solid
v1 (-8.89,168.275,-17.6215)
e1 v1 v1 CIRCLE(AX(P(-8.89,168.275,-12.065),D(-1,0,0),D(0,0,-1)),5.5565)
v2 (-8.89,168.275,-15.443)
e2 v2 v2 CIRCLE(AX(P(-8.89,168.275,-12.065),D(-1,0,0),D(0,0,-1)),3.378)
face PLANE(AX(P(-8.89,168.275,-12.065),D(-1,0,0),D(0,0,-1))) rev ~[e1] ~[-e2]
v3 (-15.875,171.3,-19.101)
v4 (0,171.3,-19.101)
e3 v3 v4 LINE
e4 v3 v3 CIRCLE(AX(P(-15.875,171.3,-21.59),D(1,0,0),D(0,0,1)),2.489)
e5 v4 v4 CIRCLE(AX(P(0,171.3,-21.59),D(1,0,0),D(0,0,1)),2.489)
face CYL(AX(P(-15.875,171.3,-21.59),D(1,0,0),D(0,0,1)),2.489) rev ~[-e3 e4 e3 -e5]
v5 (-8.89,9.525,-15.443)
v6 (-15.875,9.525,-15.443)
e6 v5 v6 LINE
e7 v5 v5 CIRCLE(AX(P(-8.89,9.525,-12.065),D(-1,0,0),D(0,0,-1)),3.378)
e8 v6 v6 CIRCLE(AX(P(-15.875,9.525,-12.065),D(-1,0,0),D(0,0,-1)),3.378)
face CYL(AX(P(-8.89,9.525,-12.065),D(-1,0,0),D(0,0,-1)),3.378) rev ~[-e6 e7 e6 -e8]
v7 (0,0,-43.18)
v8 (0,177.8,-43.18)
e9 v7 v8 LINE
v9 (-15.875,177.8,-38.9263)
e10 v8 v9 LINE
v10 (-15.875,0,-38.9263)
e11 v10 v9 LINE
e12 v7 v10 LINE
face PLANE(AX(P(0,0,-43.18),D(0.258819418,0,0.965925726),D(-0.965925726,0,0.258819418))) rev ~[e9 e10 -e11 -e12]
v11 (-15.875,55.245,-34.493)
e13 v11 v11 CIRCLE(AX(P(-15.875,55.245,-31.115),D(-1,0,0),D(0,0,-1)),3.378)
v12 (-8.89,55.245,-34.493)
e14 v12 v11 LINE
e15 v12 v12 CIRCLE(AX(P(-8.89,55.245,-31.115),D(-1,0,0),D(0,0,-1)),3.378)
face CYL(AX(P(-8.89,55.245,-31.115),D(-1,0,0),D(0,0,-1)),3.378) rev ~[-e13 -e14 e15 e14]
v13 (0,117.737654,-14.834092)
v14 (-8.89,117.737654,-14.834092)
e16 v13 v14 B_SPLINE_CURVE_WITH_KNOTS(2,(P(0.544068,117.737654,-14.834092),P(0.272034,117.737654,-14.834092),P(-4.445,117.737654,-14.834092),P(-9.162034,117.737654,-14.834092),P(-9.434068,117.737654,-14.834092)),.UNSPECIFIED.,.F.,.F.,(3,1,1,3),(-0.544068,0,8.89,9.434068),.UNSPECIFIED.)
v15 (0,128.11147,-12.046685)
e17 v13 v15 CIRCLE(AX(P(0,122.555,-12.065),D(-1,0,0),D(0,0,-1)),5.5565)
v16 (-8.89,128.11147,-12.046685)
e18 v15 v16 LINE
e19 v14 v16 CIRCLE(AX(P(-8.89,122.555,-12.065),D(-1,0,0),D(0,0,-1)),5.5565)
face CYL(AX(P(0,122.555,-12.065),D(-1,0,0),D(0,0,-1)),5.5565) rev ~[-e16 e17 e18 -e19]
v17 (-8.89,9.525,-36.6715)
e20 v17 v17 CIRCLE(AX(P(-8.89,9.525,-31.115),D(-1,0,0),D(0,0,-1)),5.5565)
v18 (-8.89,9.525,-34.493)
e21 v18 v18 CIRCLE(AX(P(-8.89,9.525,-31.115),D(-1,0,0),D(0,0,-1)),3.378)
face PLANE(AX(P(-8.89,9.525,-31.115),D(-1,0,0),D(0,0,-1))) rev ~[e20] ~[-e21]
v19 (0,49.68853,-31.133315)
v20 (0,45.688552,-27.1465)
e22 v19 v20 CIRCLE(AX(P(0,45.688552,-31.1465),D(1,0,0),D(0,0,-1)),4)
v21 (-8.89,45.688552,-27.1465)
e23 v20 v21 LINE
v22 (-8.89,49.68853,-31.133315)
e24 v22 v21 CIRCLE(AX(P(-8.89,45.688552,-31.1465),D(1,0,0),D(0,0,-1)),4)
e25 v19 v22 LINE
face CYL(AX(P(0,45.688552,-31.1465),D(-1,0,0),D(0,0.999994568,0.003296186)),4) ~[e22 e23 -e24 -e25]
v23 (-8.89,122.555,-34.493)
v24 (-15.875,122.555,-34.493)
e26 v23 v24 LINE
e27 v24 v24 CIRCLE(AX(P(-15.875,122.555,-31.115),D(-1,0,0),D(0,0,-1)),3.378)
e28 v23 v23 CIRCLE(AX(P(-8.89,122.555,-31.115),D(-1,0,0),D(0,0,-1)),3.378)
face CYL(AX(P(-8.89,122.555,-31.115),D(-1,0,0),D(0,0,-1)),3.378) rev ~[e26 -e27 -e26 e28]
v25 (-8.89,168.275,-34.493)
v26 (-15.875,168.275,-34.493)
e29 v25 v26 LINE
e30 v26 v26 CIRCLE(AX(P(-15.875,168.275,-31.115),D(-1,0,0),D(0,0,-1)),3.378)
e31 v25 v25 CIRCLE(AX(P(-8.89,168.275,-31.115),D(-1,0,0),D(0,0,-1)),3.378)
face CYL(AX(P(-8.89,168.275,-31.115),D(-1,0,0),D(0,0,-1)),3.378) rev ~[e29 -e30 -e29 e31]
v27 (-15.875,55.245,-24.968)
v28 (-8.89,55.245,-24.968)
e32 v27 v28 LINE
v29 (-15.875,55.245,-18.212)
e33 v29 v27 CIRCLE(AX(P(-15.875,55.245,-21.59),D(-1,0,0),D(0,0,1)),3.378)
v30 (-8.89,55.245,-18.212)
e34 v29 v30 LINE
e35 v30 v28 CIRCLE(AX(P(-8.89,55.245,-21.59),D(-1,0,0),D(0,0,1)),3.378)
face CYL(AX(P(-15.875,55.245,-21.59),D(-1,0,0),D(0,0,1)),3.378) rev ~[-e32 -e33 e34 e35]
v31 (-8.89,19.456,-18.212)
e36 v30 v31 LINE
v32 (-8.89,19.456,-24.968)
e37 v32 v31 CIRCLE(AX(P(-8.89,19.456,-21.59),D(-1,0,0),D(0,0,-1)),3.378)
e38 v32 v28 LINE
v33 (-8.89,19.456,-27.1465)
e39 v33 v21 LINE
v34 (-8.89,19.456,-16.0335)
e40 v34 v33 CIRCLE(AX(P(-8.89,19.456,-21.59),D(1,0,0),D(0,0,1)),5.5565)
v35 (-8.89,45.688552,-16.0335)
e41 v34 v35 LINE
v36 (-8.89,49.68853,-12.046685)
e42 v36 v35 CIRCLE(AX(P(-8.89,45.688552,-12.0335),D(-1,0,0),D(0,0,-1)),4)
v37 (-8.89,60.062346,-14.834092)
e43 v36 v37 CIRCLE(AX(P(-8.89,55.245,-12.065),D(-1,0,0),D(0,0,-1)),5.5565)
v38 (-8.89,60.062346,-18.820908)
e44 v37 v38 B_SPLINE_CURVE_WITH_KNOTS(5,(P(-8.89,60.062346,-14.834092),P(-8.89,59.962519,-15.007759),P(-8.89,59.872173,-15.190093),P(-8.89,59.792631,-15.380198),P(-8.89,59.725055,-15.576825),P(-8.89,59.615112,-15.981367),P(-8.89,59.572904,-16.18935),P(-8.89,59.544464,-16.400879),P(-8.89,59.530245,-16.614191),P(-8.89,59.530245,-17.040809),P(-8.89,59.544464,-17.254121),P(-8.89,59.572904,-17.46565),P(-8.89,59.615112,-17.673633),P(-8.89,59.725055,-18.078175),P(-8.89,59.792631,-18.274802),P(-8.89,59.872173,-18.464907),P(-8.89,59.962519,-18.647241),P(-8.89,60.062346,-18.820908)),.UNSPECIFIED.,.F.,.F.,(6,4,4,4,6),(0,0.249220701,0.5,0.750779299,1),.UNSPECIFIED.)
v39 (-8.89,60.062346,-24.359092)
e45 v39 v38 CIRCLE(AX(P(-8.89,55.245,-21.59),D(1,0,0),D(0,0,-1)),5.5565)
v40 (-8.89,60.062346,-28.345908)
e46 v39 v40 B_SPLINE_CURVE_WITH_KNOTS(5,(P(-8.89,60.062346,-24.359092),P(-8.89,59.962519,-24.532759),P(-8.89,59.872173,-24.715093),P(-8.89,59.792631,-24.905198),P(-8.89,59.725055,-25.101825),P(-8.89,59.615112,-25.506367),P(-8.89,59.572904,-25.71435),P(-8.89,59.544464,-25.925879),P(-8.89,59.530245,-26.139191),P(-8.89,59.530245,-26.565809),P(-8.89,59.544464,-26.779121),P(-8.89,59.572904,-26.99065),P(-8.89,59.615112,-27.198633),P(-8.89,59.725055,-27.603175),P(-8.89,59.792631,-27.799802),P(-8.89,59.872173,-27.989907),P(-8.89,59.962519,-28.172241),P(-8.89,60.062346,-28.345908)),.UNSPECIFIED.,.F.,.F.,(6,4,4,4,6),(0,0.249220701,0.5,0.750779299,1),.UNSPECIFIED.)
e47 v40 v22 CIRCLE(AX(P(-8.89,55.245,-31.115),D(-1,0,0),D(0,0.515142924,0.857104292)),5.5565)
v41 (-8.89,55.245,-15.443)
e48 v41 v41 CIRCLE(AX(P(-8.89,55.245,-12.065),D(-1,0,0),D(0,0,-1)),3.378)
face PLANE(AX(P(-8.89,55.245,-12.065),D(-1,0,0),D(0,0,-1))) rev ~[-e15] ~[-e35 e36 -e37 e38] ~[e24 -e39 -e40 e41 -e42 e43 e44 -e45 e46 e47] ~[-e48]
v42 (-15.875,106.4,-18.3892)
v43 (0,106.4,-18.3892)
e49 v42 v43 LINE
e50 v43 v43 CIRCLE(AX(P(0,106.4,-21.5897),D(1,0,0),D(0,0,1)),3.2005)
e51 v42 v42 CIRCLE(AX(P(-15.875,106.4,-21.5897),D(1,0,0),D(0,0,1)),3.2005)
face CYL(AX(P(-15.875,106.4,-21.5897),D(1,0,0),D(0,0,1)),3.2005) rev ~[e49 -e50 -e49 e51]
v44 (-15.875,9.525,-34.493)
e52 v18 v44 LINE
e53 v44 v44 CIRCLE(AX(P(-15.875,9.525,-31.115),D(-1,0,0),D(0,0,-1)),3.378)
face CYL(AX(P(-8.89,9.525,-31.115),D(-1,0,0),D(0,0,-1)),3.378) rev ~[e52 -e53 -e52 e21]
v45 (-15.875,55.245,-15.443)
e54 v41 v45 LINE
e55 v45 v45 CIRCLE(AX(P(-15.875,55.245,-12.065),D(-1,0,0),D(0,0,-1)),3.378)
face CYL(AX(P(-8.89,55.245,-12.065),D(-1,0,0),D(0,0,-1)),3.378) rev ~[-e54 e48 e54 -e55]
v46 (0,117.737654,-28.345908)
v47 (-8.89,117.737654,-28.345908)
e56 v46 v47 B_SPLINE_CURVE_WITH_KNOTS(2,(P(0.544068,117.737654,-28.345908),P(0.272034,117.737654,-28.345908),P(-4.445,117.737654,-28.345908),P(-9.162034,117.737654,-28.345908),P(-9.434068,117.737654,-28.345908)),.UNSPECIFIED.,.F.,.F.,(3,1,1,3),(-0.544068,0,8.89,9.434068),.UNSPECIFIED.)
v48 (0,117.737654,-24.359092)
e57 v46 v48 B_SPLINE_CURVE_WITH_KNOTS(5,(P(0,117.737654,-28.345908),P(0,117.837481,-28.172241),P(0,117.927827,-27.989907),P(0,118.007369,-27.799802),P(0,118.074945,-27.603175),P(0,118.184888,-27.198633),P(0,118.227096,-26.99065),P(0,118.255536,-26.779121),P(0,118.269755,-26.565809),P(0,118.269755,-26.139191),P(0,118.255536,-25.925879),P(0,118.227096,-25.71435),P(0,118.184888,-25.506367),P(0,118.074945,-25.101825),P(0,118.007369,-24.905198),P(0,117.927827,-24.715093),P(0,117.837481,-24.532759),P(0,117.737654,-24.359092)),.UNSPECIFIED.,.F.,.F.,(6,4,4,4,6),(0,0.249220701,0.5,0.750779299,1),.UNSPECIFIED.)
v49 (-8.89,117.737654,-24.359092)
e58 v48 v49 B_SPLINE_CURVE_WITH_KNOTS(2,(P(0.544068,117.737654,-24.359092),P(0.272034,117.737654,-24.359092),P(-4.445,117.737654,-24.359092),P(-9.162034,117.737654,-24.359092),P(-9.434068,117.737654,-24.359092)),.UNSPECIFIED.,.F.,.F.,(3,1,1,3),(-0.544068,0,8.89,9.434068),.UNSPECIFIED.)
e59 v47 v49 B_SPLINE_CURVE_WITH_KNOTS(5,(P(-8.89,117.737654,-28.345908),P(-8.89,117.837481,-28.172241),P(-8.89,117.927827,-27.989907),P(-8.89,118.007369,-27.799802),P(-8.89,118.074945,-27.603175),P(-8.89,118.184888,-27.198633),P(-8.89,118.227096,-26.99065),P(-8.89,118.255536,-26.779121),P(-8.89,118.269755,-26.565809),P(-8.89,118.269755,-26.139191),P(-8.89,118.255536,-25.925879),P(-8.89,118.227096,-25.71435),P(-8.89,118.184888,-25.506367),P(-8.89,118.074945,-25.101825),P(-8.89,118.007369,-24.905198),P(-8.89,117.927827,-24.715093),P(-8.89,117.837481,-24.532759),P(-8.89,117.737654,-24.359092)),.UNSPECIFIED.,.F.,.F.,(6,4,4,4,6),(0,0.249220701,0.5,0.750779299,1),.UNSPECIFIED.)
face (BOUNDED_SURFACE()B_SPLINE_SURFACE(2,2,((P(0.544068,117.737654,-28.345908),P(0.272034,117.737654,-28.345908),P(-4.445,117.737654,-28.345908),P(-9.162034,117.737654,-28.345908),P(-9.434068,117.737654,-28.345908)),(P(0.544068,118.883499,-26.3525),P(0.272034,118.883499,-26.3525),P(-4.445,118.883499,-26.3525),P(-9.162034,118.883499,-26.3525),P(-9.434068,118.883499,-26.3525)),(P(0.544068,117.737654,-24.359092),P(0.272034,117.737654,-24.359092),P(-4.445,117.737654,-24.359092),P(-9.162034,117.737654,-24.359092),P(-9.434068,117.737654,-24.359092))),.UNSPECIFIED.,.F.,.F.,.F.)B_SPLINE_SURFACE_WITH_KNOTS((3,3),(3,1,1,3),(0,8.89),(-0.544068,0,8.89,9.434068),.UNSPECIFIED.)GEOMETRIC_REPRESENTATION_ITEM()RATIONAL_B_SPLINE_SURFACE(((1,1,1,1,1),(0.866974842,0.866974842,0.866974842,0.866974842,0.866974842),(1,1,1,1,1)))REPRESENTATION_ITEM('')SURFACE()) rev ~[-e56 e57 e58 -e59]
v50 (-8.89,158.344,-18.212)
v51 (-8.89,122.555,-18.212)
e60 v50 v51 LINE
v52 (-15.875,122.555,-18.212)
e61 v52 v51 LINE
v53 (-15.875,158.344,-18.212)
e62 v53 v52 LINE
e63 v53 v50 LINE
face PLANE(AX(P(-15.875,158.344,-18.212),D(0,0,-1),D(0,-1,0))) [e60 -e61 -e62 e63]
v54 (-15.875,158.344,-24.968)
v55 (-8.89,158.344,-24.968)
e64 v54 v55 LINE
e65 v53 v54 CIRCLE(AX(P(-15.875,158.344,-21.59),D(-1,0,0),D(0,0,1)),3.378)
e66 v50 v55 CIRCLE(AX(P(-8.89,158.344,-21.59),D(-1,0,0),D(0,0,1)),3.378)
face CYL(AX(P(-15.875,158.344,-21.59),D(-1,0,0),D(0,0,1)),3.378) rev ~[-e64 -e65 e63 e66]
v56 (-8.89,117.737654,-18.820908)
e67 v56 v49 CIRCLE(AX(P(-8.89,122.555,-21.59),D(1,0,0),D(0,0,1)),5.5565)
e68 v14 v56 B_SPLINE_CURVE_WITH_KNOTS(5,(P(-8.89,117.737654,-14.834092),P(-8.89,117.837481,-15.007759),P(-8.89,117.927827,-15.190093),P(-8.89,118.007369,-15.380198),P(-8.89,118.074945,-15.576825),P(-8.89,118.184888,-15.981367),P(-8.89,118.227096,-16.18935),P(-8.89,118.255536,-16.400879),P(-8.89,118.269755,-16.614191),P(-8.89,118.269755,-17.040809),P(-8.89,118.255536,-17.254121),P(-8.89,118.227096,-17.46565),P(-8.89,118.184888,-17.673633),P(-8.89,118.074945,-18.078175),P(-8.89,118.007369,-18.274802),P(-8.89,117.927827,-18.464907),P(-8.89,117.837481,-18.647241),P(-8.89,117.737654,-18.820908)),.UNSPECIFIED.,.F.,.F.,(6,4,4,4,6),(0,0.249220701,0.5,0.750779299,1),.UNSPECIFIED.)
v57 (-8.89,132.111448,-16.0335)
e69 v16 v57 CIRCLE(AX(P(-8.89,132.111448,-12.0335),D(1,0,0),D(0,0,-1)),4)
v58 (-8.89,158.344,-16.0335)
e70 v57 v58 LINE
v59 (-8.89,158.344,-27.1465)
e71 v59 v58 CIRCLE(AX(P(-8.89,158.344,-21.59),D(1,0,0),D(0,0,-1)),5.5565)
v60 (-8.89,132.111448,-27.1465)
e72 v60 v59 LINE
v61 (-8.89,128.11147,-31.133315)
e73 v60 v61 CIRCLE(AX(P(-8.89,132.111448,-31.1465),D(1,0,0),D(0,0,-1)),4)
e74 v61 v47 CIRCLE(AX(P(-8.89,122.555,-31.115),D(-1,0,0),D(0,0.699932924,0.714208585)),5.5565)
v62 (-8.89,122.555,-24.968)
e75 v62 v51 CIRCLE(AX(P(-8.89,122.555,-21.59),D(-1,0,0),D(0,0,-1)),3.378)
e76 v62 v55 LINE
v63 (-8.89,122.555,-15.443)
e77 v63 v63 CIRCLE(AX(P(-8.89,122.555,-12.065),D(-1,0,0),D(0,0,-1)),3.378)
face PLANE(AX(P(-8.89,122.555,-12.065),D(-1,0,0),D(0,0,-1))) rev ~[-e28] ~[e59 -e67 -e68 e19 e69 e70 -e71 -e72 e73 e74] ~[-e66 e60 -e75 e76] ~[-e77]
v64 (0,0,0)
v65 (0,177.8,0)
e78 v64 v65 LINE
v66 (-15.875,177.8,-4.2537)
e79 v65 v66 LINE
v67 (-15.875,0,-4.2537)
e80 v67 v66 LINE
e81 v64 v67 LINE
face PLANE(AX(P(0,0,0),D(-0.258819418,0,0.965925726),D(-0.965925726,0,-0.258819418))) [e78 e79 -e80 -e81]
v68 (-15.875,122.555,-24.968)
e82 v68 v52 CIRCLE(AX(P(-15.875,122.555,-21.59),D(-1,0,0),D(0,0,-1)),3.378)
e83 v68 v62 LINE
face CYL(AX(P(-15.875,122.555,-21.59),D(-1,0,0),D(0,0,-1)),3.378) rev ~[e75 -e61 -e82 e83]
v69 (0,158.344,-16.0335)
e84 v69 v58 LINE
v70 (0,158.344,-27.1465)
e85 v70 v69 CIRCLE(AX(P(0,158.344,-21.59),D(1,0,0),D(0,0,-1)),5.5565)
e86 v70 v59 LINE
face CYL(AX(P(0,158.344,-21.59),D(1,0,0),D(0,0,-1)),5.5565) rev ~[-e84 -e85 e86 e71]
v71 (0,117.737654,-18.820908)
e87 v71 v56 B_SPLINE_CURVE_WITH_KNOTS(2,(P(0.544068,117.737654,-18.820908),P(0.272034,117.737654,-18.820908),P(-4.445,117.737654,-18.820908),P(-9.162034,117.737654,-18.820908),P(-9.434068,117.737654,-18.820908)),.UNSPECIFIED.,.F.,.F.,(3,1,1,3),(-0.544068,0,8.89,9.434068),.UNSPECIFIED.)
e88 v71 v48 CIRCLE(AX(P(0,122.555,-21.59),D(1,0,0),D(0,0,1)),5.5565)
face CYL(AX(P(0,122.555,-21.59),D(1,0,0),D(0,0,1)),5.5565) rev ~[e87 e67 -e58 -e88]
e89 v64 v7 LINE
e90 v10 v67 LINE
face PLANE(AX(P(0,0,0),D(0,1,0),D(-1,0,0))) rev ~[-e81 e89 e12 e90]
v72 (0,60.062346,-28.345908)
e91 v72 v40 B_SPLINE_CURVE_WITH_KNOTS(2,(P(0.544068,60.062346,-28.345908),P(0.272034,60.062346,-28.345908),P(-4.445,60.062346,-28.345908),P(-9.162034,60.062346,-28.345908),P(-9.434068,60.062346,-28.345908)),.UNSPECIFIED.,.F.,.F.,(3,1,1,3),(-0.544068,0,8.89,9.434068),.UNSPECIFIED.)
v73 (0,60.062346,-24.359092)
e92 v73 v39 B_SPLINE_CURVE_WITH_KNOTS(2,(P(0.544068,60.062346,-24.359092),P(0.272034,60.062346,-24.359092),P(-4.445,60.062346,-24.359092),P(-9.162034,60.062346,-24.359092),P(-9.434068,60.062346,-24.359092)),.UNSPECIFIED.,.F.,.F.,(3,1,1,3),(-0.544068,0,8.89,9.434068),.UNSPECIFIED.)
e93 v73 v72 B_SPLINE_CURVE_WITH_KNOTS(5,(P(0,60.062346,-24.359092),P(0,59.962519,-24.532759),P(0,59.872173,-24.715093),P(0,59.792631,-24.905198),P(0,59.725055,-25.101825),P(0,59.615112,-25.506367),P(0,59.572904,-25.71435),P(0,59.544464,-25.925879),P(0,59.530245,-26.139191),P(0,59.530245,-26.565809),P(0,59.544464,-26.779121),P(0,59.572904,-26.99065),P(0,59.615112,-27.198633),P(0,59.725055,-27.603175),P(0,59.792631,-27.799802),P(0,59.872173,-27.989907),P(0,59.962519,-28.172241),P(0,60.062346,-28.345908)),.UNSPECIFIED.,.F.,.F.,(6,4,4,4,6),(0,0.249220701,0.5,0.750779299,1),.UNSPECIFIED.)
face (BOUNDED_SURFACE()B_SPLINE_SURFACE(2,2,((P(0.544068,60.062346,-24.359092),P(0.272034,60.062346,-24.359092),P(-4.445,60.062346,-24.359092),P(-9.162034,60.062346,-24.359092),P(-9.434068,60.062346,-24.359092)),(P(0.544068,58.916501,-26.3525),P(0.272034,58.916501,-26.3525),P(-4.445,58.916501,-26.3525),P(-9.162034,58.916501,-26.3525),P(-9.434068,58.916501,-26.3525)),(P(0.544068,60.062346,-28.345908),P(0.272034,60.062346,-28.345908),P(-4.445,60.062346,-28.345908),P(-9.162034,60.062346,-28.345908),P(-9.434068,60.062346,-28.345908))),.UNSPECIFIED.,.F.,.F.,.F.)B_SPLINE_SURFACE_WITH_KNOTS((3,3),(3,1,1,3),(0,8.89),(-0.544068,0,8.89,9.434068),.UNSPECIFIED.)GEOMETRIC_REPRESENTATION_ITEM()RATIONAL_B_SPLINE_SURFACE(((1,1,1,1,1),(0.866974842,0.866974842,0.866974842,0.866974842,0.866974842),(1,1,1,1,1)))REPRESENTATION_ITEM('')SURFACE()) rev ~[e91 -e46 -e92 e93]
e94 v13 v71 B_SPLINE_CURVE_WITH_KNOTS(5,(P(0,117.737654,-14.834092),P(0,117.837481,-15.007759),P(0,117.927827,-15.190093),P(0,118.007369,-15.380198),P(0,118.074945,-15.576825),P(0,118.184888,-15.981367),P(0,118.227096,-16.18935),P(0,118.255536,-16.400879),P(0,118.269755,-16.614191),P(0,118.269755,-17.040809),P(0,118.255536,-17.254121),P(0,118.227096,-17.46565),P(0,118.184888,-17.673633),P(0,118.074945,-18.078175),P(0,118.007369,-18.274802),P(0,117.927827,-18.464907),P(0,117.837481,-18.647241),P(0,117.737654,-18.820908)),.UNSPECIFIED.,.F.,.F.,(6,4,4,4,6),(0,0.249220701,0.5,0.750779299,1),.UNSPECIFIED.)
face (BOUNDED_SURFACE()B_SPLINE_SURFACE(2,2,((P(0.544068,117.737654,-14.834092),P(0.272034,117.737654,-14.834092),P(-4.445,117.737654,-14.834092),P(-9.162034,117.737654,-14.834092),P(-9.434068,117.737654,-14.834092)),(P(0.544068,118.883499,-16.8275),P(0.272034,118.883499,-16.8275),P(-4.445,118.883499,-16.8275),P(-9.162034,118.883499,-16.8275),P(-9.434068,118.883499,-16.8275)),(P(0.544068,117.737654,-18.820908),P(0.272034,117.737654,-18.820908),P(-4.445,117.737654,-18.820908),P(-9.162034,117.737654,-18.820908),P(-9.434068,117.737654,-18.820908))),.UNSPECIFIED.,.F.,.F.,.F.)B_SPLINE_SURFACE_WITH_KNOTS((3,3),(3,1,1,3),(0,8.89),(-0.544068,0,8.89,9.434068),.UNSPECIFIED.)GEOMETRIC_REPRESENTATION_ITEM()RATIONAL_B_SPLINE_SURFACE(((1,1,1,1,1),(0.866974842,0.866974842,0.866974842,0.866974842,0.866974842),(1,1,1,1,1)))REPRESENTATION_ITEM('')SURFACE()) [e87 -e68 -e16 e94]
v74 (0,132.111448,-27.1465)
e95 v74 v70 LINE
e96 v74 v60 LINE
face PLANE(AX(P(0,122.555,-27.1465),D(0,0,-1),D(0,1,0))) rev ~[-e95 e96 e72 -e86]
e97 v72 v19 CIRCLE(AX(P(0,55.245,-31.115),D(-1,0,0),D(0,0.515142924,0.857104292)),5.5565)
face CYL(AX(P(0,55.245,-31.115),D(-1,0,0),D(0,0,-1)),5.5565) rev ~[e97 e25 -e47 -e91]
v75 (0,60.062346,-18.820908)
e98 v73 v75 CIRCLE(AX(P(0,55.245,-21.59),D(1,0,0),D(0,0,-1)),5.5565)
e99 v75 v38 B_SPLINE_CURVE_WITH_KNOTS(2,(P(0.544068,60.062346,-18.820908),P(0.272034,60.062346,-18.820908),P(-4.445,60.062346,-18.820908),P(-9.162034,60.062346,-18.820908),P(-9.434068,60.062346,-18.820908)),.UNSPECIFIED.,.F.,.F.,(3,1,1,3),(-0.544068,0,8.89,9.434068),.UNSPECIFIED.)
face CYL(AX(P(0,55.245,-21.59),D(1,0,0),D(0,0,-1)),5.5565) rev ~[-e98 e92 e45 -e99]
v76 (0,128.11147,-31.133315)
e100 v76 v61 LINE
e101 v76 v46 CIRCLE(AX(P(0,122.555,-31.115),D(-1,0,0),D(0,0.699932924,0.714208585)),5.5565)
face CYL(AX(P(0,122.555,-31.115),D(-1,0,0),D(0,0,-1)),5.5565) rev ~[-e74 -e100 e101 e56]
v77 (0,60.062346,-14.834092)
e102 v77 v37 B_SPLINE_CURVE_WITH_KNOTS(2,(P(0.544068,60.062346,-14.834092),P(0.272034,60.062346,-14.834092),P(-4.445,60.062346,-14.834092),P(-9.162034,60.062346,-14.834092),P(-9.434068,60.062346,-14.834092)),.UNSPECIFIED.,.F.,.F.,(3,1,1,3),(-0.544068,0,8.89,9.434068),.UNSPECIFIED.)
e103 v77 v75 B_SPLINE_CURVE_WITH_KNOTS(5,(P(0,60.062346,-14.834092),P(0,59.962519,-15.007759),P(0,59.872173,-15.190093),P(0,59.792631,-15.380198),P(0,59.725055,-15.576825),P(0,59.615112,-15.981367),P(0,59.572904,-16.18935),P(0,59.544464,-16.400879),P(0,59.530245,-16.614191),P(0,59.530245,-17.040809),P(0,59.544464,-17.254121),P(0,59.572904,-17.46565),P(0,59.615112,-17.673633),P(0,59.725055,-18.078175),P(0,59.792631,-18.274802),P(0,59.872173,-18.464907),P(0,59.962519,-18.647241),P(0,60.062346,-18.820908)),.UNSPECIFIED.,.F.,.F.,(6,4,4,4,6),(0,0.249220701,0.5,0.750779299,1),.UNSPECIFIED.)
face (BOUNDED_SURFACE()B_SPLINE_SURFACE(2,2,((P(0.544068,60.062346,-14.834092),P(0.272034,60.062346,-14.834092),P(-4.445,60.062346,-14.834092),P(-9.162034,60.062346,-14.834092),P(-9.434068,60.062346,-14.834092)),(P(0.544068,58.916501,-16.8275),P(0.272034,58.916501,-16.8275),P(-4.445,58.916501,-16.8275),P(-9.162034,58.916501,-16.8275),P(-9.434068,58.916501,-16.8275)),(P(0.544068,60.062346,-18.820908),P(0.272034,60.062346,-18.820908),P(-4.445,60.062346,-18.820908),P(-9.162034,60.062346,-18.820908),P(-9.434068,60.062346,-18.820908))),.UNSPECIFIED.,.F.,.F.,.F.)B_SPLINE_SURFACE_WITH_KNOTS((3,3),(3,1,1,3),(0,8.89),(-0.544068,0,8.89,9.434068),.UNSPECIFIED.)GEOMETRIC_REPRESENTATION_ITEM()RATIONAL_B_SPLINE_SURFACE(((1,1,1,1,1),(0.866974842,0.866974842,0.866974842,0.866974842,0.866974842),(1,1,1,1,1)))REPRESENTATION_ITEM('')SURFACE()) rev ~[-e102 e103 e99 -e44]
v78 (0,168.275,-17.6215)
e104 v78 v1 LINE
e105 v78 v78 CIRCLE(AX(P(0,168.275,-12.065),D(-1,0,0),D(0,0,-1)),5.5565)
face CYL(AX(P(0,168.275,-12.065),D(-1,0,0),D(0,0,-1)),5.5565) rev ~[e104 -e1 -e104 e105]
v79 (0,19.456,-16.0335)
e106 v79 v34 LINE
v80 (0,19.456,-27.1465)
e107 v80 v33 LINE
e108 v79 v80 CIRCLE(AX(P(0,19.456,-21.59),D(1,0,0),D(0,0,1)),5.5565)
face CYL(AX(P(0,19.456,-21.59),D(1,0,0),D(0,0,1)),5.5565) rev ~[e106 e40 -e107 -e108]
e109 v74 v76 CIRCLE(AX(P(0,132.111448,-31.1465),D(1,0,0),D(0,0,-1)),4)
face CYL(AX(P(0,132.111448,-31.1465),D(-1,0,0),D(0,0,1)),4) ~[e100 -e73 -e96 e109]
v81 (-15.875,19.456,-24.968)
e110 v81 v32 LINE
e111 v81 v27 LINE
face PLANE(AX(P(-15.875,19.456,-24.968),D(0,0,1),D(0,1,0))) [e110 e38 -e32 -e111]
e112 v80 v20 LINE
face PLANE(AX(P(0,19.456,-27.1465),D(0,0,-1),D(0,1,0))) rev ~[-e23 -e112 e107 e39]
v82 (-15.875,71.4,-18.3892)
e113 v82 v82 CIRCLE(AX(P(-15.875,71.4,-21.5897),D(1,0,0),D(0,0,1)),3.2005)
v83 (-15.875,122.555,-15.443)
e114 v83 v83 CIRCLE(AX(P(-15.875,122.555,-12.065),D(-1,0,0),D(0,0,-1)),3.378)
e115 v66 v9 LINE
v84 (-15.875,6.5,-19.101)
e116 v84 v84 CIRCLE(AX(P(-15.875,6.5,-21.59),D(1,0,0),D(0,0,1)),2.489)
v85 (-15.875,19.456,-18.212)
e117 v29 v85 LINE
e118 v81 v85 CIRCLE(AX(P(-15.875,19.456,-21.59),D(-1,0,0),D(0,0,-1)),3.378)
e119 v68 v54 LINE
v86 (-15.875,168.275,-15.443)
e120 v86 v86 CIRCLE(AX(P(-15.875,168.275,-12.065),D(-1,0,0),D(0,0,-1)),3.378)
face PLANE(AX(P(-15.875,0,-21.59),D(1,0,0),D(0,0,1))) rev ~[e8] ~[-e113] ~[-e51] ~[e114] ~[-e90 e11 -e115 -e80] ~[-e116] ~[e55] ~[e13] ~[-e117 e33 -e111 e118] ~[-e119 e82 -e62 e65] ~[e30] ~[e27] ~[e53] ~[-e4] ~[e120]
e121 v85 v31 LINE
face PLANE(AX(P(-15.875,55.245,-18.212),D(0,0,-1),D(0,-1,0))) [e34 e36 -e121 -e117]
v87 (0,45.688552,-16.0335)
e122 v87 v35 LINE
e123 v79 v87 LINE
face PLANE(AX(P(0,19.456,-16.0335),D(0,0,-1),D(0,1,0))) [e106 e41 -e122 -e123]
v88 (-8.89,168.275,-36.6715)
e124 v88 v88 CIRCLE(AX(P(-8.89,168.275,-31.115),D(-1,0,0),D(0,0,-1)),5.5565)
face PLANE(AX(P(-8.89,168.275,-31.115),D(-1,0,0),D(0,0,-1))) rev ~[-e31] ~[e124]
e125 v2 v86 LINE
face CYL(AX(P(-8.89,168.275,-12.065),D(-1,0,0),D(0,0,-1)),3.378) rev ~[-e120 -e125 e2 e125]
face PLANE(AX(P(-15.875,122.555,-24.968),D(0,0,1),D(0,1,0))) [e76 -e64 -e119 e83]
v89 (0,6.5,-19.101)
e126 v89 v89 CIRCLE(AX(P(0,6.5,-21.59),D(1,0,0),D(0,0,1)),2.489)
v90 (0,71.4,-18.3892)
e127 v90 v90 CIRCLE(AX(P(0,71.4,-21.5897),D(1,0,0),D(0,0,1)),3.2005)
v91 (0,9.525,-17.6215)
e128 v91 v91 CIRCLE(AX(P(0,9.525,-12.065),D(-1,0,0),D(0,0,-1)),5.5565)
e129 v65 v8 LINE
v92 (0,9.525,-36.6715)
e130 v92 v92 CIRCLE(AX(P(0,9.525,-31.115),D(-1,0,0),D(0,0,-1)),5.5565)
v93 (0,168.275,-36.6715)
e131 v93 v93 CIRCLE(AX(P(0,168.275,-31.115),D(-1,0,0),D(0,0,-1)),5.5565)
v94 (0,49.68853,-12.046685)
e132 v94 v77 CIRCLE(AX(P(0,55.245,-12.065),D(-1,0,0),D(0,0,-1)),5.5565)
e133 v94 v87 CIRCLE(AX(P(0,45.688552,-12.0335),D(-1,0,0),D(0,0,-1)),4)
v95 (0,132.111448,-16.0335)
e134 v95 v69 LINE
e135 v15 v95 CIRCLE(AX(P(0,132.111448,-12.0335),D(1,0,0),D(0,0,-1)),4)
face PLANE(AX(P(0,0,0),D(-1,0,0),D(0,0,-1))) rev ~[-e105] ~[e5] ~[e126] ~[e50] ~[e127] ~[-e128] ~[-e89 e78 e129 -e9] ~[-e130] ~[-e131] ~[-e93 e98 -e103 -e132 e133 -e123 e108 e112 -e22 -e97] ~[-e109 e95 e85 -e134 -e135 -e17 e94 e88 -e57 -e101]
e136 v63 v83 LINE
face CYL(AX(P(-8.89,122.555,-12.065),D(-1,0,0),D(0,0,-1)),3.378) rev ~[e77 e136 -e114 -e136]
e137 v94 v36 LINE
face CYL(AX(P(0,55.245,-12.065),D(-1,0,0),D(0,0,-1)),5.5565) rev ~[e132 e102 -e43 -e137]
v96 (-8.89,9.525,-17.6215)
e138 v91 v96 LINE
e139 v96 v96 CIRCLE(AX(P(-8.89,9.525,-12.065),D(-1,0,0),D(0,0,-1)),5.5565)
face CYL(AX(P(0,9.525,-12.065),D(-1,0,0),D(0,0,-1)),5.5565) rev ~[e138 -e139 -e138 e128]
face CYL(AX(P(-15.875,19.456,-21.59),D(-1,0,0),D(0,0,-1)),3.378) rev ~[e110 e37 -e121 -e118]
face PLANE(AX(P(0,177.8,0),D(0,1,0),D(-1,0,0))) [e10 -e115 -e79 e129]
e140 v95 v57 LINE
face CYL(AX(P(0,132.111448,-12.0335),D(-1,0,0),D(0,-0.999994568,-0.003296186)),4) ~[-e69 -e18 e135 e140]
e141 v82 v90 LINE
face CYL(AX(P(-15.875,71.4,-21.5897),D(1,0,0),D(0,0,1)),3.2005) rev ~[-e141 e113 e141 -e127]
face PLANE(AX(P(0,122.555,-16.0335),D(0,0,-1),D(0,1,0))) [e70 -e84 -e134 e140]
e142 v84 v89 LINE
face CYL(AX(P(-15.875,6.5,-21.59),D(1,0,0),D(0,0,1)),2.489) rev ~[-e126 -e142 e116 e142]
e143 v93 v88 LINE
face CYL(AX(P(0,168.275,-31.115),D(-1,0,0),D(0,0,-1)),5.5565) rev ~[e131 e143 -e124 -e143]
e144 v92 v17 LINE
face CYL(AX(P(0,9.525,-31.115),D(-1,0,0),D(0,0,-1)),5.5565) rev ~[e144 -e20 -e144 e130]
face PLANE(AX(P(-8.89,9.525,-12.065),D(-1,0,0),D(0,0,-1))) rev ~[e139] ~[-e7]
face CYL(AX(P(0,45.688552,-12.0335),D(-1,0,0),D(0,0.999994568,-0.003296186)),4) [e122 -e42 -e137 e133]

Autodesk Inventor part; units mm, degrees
ref_plane "YZ Plane" through (0, 0, 0) normal (1, 0, 0) x (0, 1, 0)
ref_plane "XZ Plane" through (0, 0, 0) normal (0, 1, 0) x (-1, 0, 0)
ref_plane "XY Plane" through (0, 0, 0) normal (0, 0, 1) x (1, 0, 0)
sketch "Szkic1" plane through (0, 0, 0) normal (0, 1, 0) x (-1, 0, 0)
  line L0 (0, 0) -> (0, -43.18)
  line L1 (0, -43.18) -> (15.875, -38.9263)
  line L2 (0, -43.18) -> (16.435, -43.18) construction
  line L3 (0, 0) -> (15.875, -4.2537)
  line L4 (0, 0) -> (18.9194, 0) construction
  line L5 (15.875, -21.59) -> (15.875, -4.2537)
  line L6 (15.875, -21.59) -> (15.875, -38.9263)
  dimension "d0" = 43.18
  dimension "d2" = 15
  dimension "d3" = 15
  dimension "d4" = 15.875
extrude "Wyciągnięcie proste1" add sketch "Szkic1" along normal blind 177.8
sketch "Szkic2" plane through (0, 0, 0) normal (1, 0, 0) x (0, 0, -1)
  line L0 (0, 0) -> (43.18, 0) projected
  line L1 (0, 177.8) -> (43.18, 177.8) projected
  line L2 (43.18, 0) -> (43.18, 177.8) projected
  line L3 (0, 0) -> (0, 177.8) projected
  point P0 (12.065, 9.525)
  point P1 (12.065, 55.245)
  point P2 (12.065, 122.555)
  point P3 (12.065, 168.275)
  point P4 (31.115, 168.275)
  point P5 (31.115, 122.555)
  point P6 (31.115, 55.245)
  point P7 (31.115, 9.525)
  dimension "d7" = 45.72
  dimension "d8" = 67.31
  dimension "d9" = 45.72
  dimension "d10" = 9.525
  dimension "d12" = 19.05
  dimension "d13" = 19.05
  dimension "d14" = 19.05
  dimension "d15" = 19.05
  dimension "d18" = 12.065
  dimension "d19" = 12.065
  dimension "d20" = 12.065
  dimension "d21" = 12.065
  dimension "d48" = 9.525
  dimension "d49" = 45.72
  dimension "d50" = 67.31
  dimension "d51" = 45.72
hole "Otwór1" at (0, 9.525, -12.065) at (0, 55.245, -12.065) at (0, 122.555, -12.065) at (0, 168.275, -12.065) at (0, 168.275, -31.115) at (0, 122.555, -31.115) at (0, 55.245, -31.115) at (0, 9.525, -31.115) direction (-1, 0, 0) diameter 6.756 depth 30 tip angle 118 counterbore diameter 11.113 counterbore depth 8.89 clearance for "Wkręt z łbem walcowym gniazdowym" size "1/4" standard "ANSI Gwinty cal zunifikowane"
sketch "Szkic3" plane through (-15.875, 0, -38.9263) normal (-1, 0, 0) x (0, 0, 1)
  line L0 (34.6726, 0) -> (34.6726, 177.8) projected
  line L1 (0, 0) -> (0, 177.8) projected
  line L2 (0, 177.8) -> (34.6726, 177.8) projected
  point P0 (38.9263, 0)
  point P1 (17.3366, 106.4)
  point P2 (17.3366, 71.4)
  dimension "d29" = 17.336
  dimension "d31" = 17.336
  dimension "d34" = 35
  dimension "d35" = 71.4
hole "Otwór2" at (-15.875, 106.4, -21.5897) at (-15.875, 71.4, -21.5897) direction (1, 0, 0) diameter 6.401 depth 22.931 tip angle 118 thread size "5/16-18 UNC" class "2B" standard "ANSI Unified Screw Threads"
sketch "Szkic4" plane through (-15.875, 0, -38.9263) normal (-1, 0, 0) x (0, 0, 1)
  line L0 (0, 0) -> (0, 177.8) projected
  line L1 (34.6726, 0) -> (34.6726, 177.8) projected
  circle A0 centre (26.8613, 122.555) radius 5.5565 projected
  circle A1 centre (7.8113, 122.555) radius 3.378 projected
  circle A2 centre (26.8613, 55.245) radius 3.378 projected
  circle A3 centre (7.8113, 55.245) radius 3.378 projected
  arc A4 (13.9583, 122.555) -> (20.7143, 122.555) centre (17.3363, 122.555) ccw
  arc A5 (20.7143, 158.344) -> (13.9583, 158.344) centre (17.3363, 158.344) ccw
  arc A6 (20.7143, 55.245) -> (13.9583, 55.245) centre (17.3363, 55.245) ccw
  arc A7 (13.9583, 19.456) -> (20.7143, 19.456) centre (17.3363, 19.456) ccw
  line L2 (20.7143, 158.344) -> (20.7143, 122.555)
  line L3 (13.9583, 122.555) -> (13.9583, 158.344)
  line L4 (21.3048, 122.555) -> (20.7143, 122.555)
  line L5 (11.1893, 122.555) -> (7.8113, 122.555)
  line L6 (20.7143, 55.245) -> (20.7143, 19.456)
  line L7 (13.9583, 19.456) -> (13.9583, 55.245)
  point P0 (38.9263, 0)
  dimension "d45" = 34.6726
  dimension "d54" = 6.756
  dimension "d55" = 6.756
  dimension "d56" = 6.756
  dimension "d57" = 6.756
  dimension "d66" = 35.789
  dimension "d67" = 35.789
  dimension "d68" = 0
  dimension "d69" = 35.789
  dimension "d70" = 35.789
extrude "Wyciągnięcie proste2" cut sketch "Szkic4" against normal blind 177.8 contours A4 L3 A5 L2 | L6 A7 L7 A6
sketch "Szkic7" plane through (0, 0, 0) normal (1, 0, 0) x (0, 0, -1)
  arc A0 (18.212, 19.456) -> (24.968, 19.456) centre (21.59, 19.456) ccw projected
  arc A1 (16.0335, 19.456) -> (27.1465, 19.456) centre (21.59, 19.456) ccw
  arc A2 (24.968, 55.245) -> (18.212, 55.245) centre (21.59, 55.245) ccw projected
  arc A3 (27.1465, 55.245) -> (16.0335, 55.245) centre (21.59, 55.245) ccw
  line L0 (16.0335, 19.456) -> (16.0335, 55.245)
  line L1 (27.1465, 19.456) -> (27.1465, 55.245)
  arc A4 (24.968, 158.344) -> (18.212, 158.344) centre (21.59, 158.344) ccw projected
  arc A5 (16.0335, 122.555) -> (27.1465, 122.555) centre (21.59, 122.555) ccw
  arc A6 (27.1465, 158.344) -> (16.0335, 158.344) centre (21.59, 158.344) ccw
  line L2 (16.0335, 122.555) -> (16.0335, 158.344)
  line L3 (27.1465, 122.555) -> (27.1465, 158.344)
  point P0 (0, 0)
  dimension "d71" = 11.113
  dimension "d72" = 11.113
  dimension "d73" = 11.113
  dimension "d74" = 11.113
extrude "Wyciągnięcie proste4" cut sketch "Szkic7" against normal blind 8.89
fillet "Zaokrąglenie1" radius 4 8 edges at (-4.445, 51.3558, -16.0335) (-4.445, 58.1074, -16.8275) (-4.445, 58.1074, -26.3525) (-4.445, 51.3558, -27.1465) (-4.445, 119.6926, -16.8275) (-4.445, 119.6926, -26.3525) (-4.445, 126.4442, -16.0335) (-4.445, 126.4442, -27.1465)
sketch "Szkic8" plane through (-15.875, 0, -38.9263) normal (-1, 0, 0) x (0, 0, 1)
  arc A0 (13.9583, 19.456) -> (20.7143, 19.456) centre (17.3363, 19.456) ccw projected
  line L0 (17.3363, 19.456) -> (17.3363, 202.652)
  line L1 (17.3363, 19.456) -> (17.3363, -13.8574)
  line L2 (0, 177.8) -> (34.6726, 177.8) projected
  line L3 (0, 0) -> (34.6726, 0) projected
  point P0 (38.9263, 0)
  point P1 (17.3363, 6.5)
  point P2 (17.3363, 171.3)
  dimension "d78" = 6.5
  dimension "d79" = 6.5
hole "Otwór3" at (-15.875, 6.5, -21.59) at (-15.875, 171.3, -21.59) direction (1, 0, 0) diameter 4.978 depth 19.05 tip angle 118 thread size "1/4-20 UNC" class "2B" standard "ANSI Unified Screw Threads"
equation "\"d9\" = d7"
equation "\"d13\" = d12"
equation "\"d14\" = d13"
equation "\"d15\" = d14"
equation "\"d48\" = d10"
equation "\"d49\" = d9"
equation "\"d50\" = d8"
equation "\"d51\" = d7"
equation "\"d31\" = d29"
equation "\"d67\" = d66"
equation "\"d69\" = d66"
equation "\"d70\" = d69"
properties part number "dovetail" material "Aluminium 6061"
